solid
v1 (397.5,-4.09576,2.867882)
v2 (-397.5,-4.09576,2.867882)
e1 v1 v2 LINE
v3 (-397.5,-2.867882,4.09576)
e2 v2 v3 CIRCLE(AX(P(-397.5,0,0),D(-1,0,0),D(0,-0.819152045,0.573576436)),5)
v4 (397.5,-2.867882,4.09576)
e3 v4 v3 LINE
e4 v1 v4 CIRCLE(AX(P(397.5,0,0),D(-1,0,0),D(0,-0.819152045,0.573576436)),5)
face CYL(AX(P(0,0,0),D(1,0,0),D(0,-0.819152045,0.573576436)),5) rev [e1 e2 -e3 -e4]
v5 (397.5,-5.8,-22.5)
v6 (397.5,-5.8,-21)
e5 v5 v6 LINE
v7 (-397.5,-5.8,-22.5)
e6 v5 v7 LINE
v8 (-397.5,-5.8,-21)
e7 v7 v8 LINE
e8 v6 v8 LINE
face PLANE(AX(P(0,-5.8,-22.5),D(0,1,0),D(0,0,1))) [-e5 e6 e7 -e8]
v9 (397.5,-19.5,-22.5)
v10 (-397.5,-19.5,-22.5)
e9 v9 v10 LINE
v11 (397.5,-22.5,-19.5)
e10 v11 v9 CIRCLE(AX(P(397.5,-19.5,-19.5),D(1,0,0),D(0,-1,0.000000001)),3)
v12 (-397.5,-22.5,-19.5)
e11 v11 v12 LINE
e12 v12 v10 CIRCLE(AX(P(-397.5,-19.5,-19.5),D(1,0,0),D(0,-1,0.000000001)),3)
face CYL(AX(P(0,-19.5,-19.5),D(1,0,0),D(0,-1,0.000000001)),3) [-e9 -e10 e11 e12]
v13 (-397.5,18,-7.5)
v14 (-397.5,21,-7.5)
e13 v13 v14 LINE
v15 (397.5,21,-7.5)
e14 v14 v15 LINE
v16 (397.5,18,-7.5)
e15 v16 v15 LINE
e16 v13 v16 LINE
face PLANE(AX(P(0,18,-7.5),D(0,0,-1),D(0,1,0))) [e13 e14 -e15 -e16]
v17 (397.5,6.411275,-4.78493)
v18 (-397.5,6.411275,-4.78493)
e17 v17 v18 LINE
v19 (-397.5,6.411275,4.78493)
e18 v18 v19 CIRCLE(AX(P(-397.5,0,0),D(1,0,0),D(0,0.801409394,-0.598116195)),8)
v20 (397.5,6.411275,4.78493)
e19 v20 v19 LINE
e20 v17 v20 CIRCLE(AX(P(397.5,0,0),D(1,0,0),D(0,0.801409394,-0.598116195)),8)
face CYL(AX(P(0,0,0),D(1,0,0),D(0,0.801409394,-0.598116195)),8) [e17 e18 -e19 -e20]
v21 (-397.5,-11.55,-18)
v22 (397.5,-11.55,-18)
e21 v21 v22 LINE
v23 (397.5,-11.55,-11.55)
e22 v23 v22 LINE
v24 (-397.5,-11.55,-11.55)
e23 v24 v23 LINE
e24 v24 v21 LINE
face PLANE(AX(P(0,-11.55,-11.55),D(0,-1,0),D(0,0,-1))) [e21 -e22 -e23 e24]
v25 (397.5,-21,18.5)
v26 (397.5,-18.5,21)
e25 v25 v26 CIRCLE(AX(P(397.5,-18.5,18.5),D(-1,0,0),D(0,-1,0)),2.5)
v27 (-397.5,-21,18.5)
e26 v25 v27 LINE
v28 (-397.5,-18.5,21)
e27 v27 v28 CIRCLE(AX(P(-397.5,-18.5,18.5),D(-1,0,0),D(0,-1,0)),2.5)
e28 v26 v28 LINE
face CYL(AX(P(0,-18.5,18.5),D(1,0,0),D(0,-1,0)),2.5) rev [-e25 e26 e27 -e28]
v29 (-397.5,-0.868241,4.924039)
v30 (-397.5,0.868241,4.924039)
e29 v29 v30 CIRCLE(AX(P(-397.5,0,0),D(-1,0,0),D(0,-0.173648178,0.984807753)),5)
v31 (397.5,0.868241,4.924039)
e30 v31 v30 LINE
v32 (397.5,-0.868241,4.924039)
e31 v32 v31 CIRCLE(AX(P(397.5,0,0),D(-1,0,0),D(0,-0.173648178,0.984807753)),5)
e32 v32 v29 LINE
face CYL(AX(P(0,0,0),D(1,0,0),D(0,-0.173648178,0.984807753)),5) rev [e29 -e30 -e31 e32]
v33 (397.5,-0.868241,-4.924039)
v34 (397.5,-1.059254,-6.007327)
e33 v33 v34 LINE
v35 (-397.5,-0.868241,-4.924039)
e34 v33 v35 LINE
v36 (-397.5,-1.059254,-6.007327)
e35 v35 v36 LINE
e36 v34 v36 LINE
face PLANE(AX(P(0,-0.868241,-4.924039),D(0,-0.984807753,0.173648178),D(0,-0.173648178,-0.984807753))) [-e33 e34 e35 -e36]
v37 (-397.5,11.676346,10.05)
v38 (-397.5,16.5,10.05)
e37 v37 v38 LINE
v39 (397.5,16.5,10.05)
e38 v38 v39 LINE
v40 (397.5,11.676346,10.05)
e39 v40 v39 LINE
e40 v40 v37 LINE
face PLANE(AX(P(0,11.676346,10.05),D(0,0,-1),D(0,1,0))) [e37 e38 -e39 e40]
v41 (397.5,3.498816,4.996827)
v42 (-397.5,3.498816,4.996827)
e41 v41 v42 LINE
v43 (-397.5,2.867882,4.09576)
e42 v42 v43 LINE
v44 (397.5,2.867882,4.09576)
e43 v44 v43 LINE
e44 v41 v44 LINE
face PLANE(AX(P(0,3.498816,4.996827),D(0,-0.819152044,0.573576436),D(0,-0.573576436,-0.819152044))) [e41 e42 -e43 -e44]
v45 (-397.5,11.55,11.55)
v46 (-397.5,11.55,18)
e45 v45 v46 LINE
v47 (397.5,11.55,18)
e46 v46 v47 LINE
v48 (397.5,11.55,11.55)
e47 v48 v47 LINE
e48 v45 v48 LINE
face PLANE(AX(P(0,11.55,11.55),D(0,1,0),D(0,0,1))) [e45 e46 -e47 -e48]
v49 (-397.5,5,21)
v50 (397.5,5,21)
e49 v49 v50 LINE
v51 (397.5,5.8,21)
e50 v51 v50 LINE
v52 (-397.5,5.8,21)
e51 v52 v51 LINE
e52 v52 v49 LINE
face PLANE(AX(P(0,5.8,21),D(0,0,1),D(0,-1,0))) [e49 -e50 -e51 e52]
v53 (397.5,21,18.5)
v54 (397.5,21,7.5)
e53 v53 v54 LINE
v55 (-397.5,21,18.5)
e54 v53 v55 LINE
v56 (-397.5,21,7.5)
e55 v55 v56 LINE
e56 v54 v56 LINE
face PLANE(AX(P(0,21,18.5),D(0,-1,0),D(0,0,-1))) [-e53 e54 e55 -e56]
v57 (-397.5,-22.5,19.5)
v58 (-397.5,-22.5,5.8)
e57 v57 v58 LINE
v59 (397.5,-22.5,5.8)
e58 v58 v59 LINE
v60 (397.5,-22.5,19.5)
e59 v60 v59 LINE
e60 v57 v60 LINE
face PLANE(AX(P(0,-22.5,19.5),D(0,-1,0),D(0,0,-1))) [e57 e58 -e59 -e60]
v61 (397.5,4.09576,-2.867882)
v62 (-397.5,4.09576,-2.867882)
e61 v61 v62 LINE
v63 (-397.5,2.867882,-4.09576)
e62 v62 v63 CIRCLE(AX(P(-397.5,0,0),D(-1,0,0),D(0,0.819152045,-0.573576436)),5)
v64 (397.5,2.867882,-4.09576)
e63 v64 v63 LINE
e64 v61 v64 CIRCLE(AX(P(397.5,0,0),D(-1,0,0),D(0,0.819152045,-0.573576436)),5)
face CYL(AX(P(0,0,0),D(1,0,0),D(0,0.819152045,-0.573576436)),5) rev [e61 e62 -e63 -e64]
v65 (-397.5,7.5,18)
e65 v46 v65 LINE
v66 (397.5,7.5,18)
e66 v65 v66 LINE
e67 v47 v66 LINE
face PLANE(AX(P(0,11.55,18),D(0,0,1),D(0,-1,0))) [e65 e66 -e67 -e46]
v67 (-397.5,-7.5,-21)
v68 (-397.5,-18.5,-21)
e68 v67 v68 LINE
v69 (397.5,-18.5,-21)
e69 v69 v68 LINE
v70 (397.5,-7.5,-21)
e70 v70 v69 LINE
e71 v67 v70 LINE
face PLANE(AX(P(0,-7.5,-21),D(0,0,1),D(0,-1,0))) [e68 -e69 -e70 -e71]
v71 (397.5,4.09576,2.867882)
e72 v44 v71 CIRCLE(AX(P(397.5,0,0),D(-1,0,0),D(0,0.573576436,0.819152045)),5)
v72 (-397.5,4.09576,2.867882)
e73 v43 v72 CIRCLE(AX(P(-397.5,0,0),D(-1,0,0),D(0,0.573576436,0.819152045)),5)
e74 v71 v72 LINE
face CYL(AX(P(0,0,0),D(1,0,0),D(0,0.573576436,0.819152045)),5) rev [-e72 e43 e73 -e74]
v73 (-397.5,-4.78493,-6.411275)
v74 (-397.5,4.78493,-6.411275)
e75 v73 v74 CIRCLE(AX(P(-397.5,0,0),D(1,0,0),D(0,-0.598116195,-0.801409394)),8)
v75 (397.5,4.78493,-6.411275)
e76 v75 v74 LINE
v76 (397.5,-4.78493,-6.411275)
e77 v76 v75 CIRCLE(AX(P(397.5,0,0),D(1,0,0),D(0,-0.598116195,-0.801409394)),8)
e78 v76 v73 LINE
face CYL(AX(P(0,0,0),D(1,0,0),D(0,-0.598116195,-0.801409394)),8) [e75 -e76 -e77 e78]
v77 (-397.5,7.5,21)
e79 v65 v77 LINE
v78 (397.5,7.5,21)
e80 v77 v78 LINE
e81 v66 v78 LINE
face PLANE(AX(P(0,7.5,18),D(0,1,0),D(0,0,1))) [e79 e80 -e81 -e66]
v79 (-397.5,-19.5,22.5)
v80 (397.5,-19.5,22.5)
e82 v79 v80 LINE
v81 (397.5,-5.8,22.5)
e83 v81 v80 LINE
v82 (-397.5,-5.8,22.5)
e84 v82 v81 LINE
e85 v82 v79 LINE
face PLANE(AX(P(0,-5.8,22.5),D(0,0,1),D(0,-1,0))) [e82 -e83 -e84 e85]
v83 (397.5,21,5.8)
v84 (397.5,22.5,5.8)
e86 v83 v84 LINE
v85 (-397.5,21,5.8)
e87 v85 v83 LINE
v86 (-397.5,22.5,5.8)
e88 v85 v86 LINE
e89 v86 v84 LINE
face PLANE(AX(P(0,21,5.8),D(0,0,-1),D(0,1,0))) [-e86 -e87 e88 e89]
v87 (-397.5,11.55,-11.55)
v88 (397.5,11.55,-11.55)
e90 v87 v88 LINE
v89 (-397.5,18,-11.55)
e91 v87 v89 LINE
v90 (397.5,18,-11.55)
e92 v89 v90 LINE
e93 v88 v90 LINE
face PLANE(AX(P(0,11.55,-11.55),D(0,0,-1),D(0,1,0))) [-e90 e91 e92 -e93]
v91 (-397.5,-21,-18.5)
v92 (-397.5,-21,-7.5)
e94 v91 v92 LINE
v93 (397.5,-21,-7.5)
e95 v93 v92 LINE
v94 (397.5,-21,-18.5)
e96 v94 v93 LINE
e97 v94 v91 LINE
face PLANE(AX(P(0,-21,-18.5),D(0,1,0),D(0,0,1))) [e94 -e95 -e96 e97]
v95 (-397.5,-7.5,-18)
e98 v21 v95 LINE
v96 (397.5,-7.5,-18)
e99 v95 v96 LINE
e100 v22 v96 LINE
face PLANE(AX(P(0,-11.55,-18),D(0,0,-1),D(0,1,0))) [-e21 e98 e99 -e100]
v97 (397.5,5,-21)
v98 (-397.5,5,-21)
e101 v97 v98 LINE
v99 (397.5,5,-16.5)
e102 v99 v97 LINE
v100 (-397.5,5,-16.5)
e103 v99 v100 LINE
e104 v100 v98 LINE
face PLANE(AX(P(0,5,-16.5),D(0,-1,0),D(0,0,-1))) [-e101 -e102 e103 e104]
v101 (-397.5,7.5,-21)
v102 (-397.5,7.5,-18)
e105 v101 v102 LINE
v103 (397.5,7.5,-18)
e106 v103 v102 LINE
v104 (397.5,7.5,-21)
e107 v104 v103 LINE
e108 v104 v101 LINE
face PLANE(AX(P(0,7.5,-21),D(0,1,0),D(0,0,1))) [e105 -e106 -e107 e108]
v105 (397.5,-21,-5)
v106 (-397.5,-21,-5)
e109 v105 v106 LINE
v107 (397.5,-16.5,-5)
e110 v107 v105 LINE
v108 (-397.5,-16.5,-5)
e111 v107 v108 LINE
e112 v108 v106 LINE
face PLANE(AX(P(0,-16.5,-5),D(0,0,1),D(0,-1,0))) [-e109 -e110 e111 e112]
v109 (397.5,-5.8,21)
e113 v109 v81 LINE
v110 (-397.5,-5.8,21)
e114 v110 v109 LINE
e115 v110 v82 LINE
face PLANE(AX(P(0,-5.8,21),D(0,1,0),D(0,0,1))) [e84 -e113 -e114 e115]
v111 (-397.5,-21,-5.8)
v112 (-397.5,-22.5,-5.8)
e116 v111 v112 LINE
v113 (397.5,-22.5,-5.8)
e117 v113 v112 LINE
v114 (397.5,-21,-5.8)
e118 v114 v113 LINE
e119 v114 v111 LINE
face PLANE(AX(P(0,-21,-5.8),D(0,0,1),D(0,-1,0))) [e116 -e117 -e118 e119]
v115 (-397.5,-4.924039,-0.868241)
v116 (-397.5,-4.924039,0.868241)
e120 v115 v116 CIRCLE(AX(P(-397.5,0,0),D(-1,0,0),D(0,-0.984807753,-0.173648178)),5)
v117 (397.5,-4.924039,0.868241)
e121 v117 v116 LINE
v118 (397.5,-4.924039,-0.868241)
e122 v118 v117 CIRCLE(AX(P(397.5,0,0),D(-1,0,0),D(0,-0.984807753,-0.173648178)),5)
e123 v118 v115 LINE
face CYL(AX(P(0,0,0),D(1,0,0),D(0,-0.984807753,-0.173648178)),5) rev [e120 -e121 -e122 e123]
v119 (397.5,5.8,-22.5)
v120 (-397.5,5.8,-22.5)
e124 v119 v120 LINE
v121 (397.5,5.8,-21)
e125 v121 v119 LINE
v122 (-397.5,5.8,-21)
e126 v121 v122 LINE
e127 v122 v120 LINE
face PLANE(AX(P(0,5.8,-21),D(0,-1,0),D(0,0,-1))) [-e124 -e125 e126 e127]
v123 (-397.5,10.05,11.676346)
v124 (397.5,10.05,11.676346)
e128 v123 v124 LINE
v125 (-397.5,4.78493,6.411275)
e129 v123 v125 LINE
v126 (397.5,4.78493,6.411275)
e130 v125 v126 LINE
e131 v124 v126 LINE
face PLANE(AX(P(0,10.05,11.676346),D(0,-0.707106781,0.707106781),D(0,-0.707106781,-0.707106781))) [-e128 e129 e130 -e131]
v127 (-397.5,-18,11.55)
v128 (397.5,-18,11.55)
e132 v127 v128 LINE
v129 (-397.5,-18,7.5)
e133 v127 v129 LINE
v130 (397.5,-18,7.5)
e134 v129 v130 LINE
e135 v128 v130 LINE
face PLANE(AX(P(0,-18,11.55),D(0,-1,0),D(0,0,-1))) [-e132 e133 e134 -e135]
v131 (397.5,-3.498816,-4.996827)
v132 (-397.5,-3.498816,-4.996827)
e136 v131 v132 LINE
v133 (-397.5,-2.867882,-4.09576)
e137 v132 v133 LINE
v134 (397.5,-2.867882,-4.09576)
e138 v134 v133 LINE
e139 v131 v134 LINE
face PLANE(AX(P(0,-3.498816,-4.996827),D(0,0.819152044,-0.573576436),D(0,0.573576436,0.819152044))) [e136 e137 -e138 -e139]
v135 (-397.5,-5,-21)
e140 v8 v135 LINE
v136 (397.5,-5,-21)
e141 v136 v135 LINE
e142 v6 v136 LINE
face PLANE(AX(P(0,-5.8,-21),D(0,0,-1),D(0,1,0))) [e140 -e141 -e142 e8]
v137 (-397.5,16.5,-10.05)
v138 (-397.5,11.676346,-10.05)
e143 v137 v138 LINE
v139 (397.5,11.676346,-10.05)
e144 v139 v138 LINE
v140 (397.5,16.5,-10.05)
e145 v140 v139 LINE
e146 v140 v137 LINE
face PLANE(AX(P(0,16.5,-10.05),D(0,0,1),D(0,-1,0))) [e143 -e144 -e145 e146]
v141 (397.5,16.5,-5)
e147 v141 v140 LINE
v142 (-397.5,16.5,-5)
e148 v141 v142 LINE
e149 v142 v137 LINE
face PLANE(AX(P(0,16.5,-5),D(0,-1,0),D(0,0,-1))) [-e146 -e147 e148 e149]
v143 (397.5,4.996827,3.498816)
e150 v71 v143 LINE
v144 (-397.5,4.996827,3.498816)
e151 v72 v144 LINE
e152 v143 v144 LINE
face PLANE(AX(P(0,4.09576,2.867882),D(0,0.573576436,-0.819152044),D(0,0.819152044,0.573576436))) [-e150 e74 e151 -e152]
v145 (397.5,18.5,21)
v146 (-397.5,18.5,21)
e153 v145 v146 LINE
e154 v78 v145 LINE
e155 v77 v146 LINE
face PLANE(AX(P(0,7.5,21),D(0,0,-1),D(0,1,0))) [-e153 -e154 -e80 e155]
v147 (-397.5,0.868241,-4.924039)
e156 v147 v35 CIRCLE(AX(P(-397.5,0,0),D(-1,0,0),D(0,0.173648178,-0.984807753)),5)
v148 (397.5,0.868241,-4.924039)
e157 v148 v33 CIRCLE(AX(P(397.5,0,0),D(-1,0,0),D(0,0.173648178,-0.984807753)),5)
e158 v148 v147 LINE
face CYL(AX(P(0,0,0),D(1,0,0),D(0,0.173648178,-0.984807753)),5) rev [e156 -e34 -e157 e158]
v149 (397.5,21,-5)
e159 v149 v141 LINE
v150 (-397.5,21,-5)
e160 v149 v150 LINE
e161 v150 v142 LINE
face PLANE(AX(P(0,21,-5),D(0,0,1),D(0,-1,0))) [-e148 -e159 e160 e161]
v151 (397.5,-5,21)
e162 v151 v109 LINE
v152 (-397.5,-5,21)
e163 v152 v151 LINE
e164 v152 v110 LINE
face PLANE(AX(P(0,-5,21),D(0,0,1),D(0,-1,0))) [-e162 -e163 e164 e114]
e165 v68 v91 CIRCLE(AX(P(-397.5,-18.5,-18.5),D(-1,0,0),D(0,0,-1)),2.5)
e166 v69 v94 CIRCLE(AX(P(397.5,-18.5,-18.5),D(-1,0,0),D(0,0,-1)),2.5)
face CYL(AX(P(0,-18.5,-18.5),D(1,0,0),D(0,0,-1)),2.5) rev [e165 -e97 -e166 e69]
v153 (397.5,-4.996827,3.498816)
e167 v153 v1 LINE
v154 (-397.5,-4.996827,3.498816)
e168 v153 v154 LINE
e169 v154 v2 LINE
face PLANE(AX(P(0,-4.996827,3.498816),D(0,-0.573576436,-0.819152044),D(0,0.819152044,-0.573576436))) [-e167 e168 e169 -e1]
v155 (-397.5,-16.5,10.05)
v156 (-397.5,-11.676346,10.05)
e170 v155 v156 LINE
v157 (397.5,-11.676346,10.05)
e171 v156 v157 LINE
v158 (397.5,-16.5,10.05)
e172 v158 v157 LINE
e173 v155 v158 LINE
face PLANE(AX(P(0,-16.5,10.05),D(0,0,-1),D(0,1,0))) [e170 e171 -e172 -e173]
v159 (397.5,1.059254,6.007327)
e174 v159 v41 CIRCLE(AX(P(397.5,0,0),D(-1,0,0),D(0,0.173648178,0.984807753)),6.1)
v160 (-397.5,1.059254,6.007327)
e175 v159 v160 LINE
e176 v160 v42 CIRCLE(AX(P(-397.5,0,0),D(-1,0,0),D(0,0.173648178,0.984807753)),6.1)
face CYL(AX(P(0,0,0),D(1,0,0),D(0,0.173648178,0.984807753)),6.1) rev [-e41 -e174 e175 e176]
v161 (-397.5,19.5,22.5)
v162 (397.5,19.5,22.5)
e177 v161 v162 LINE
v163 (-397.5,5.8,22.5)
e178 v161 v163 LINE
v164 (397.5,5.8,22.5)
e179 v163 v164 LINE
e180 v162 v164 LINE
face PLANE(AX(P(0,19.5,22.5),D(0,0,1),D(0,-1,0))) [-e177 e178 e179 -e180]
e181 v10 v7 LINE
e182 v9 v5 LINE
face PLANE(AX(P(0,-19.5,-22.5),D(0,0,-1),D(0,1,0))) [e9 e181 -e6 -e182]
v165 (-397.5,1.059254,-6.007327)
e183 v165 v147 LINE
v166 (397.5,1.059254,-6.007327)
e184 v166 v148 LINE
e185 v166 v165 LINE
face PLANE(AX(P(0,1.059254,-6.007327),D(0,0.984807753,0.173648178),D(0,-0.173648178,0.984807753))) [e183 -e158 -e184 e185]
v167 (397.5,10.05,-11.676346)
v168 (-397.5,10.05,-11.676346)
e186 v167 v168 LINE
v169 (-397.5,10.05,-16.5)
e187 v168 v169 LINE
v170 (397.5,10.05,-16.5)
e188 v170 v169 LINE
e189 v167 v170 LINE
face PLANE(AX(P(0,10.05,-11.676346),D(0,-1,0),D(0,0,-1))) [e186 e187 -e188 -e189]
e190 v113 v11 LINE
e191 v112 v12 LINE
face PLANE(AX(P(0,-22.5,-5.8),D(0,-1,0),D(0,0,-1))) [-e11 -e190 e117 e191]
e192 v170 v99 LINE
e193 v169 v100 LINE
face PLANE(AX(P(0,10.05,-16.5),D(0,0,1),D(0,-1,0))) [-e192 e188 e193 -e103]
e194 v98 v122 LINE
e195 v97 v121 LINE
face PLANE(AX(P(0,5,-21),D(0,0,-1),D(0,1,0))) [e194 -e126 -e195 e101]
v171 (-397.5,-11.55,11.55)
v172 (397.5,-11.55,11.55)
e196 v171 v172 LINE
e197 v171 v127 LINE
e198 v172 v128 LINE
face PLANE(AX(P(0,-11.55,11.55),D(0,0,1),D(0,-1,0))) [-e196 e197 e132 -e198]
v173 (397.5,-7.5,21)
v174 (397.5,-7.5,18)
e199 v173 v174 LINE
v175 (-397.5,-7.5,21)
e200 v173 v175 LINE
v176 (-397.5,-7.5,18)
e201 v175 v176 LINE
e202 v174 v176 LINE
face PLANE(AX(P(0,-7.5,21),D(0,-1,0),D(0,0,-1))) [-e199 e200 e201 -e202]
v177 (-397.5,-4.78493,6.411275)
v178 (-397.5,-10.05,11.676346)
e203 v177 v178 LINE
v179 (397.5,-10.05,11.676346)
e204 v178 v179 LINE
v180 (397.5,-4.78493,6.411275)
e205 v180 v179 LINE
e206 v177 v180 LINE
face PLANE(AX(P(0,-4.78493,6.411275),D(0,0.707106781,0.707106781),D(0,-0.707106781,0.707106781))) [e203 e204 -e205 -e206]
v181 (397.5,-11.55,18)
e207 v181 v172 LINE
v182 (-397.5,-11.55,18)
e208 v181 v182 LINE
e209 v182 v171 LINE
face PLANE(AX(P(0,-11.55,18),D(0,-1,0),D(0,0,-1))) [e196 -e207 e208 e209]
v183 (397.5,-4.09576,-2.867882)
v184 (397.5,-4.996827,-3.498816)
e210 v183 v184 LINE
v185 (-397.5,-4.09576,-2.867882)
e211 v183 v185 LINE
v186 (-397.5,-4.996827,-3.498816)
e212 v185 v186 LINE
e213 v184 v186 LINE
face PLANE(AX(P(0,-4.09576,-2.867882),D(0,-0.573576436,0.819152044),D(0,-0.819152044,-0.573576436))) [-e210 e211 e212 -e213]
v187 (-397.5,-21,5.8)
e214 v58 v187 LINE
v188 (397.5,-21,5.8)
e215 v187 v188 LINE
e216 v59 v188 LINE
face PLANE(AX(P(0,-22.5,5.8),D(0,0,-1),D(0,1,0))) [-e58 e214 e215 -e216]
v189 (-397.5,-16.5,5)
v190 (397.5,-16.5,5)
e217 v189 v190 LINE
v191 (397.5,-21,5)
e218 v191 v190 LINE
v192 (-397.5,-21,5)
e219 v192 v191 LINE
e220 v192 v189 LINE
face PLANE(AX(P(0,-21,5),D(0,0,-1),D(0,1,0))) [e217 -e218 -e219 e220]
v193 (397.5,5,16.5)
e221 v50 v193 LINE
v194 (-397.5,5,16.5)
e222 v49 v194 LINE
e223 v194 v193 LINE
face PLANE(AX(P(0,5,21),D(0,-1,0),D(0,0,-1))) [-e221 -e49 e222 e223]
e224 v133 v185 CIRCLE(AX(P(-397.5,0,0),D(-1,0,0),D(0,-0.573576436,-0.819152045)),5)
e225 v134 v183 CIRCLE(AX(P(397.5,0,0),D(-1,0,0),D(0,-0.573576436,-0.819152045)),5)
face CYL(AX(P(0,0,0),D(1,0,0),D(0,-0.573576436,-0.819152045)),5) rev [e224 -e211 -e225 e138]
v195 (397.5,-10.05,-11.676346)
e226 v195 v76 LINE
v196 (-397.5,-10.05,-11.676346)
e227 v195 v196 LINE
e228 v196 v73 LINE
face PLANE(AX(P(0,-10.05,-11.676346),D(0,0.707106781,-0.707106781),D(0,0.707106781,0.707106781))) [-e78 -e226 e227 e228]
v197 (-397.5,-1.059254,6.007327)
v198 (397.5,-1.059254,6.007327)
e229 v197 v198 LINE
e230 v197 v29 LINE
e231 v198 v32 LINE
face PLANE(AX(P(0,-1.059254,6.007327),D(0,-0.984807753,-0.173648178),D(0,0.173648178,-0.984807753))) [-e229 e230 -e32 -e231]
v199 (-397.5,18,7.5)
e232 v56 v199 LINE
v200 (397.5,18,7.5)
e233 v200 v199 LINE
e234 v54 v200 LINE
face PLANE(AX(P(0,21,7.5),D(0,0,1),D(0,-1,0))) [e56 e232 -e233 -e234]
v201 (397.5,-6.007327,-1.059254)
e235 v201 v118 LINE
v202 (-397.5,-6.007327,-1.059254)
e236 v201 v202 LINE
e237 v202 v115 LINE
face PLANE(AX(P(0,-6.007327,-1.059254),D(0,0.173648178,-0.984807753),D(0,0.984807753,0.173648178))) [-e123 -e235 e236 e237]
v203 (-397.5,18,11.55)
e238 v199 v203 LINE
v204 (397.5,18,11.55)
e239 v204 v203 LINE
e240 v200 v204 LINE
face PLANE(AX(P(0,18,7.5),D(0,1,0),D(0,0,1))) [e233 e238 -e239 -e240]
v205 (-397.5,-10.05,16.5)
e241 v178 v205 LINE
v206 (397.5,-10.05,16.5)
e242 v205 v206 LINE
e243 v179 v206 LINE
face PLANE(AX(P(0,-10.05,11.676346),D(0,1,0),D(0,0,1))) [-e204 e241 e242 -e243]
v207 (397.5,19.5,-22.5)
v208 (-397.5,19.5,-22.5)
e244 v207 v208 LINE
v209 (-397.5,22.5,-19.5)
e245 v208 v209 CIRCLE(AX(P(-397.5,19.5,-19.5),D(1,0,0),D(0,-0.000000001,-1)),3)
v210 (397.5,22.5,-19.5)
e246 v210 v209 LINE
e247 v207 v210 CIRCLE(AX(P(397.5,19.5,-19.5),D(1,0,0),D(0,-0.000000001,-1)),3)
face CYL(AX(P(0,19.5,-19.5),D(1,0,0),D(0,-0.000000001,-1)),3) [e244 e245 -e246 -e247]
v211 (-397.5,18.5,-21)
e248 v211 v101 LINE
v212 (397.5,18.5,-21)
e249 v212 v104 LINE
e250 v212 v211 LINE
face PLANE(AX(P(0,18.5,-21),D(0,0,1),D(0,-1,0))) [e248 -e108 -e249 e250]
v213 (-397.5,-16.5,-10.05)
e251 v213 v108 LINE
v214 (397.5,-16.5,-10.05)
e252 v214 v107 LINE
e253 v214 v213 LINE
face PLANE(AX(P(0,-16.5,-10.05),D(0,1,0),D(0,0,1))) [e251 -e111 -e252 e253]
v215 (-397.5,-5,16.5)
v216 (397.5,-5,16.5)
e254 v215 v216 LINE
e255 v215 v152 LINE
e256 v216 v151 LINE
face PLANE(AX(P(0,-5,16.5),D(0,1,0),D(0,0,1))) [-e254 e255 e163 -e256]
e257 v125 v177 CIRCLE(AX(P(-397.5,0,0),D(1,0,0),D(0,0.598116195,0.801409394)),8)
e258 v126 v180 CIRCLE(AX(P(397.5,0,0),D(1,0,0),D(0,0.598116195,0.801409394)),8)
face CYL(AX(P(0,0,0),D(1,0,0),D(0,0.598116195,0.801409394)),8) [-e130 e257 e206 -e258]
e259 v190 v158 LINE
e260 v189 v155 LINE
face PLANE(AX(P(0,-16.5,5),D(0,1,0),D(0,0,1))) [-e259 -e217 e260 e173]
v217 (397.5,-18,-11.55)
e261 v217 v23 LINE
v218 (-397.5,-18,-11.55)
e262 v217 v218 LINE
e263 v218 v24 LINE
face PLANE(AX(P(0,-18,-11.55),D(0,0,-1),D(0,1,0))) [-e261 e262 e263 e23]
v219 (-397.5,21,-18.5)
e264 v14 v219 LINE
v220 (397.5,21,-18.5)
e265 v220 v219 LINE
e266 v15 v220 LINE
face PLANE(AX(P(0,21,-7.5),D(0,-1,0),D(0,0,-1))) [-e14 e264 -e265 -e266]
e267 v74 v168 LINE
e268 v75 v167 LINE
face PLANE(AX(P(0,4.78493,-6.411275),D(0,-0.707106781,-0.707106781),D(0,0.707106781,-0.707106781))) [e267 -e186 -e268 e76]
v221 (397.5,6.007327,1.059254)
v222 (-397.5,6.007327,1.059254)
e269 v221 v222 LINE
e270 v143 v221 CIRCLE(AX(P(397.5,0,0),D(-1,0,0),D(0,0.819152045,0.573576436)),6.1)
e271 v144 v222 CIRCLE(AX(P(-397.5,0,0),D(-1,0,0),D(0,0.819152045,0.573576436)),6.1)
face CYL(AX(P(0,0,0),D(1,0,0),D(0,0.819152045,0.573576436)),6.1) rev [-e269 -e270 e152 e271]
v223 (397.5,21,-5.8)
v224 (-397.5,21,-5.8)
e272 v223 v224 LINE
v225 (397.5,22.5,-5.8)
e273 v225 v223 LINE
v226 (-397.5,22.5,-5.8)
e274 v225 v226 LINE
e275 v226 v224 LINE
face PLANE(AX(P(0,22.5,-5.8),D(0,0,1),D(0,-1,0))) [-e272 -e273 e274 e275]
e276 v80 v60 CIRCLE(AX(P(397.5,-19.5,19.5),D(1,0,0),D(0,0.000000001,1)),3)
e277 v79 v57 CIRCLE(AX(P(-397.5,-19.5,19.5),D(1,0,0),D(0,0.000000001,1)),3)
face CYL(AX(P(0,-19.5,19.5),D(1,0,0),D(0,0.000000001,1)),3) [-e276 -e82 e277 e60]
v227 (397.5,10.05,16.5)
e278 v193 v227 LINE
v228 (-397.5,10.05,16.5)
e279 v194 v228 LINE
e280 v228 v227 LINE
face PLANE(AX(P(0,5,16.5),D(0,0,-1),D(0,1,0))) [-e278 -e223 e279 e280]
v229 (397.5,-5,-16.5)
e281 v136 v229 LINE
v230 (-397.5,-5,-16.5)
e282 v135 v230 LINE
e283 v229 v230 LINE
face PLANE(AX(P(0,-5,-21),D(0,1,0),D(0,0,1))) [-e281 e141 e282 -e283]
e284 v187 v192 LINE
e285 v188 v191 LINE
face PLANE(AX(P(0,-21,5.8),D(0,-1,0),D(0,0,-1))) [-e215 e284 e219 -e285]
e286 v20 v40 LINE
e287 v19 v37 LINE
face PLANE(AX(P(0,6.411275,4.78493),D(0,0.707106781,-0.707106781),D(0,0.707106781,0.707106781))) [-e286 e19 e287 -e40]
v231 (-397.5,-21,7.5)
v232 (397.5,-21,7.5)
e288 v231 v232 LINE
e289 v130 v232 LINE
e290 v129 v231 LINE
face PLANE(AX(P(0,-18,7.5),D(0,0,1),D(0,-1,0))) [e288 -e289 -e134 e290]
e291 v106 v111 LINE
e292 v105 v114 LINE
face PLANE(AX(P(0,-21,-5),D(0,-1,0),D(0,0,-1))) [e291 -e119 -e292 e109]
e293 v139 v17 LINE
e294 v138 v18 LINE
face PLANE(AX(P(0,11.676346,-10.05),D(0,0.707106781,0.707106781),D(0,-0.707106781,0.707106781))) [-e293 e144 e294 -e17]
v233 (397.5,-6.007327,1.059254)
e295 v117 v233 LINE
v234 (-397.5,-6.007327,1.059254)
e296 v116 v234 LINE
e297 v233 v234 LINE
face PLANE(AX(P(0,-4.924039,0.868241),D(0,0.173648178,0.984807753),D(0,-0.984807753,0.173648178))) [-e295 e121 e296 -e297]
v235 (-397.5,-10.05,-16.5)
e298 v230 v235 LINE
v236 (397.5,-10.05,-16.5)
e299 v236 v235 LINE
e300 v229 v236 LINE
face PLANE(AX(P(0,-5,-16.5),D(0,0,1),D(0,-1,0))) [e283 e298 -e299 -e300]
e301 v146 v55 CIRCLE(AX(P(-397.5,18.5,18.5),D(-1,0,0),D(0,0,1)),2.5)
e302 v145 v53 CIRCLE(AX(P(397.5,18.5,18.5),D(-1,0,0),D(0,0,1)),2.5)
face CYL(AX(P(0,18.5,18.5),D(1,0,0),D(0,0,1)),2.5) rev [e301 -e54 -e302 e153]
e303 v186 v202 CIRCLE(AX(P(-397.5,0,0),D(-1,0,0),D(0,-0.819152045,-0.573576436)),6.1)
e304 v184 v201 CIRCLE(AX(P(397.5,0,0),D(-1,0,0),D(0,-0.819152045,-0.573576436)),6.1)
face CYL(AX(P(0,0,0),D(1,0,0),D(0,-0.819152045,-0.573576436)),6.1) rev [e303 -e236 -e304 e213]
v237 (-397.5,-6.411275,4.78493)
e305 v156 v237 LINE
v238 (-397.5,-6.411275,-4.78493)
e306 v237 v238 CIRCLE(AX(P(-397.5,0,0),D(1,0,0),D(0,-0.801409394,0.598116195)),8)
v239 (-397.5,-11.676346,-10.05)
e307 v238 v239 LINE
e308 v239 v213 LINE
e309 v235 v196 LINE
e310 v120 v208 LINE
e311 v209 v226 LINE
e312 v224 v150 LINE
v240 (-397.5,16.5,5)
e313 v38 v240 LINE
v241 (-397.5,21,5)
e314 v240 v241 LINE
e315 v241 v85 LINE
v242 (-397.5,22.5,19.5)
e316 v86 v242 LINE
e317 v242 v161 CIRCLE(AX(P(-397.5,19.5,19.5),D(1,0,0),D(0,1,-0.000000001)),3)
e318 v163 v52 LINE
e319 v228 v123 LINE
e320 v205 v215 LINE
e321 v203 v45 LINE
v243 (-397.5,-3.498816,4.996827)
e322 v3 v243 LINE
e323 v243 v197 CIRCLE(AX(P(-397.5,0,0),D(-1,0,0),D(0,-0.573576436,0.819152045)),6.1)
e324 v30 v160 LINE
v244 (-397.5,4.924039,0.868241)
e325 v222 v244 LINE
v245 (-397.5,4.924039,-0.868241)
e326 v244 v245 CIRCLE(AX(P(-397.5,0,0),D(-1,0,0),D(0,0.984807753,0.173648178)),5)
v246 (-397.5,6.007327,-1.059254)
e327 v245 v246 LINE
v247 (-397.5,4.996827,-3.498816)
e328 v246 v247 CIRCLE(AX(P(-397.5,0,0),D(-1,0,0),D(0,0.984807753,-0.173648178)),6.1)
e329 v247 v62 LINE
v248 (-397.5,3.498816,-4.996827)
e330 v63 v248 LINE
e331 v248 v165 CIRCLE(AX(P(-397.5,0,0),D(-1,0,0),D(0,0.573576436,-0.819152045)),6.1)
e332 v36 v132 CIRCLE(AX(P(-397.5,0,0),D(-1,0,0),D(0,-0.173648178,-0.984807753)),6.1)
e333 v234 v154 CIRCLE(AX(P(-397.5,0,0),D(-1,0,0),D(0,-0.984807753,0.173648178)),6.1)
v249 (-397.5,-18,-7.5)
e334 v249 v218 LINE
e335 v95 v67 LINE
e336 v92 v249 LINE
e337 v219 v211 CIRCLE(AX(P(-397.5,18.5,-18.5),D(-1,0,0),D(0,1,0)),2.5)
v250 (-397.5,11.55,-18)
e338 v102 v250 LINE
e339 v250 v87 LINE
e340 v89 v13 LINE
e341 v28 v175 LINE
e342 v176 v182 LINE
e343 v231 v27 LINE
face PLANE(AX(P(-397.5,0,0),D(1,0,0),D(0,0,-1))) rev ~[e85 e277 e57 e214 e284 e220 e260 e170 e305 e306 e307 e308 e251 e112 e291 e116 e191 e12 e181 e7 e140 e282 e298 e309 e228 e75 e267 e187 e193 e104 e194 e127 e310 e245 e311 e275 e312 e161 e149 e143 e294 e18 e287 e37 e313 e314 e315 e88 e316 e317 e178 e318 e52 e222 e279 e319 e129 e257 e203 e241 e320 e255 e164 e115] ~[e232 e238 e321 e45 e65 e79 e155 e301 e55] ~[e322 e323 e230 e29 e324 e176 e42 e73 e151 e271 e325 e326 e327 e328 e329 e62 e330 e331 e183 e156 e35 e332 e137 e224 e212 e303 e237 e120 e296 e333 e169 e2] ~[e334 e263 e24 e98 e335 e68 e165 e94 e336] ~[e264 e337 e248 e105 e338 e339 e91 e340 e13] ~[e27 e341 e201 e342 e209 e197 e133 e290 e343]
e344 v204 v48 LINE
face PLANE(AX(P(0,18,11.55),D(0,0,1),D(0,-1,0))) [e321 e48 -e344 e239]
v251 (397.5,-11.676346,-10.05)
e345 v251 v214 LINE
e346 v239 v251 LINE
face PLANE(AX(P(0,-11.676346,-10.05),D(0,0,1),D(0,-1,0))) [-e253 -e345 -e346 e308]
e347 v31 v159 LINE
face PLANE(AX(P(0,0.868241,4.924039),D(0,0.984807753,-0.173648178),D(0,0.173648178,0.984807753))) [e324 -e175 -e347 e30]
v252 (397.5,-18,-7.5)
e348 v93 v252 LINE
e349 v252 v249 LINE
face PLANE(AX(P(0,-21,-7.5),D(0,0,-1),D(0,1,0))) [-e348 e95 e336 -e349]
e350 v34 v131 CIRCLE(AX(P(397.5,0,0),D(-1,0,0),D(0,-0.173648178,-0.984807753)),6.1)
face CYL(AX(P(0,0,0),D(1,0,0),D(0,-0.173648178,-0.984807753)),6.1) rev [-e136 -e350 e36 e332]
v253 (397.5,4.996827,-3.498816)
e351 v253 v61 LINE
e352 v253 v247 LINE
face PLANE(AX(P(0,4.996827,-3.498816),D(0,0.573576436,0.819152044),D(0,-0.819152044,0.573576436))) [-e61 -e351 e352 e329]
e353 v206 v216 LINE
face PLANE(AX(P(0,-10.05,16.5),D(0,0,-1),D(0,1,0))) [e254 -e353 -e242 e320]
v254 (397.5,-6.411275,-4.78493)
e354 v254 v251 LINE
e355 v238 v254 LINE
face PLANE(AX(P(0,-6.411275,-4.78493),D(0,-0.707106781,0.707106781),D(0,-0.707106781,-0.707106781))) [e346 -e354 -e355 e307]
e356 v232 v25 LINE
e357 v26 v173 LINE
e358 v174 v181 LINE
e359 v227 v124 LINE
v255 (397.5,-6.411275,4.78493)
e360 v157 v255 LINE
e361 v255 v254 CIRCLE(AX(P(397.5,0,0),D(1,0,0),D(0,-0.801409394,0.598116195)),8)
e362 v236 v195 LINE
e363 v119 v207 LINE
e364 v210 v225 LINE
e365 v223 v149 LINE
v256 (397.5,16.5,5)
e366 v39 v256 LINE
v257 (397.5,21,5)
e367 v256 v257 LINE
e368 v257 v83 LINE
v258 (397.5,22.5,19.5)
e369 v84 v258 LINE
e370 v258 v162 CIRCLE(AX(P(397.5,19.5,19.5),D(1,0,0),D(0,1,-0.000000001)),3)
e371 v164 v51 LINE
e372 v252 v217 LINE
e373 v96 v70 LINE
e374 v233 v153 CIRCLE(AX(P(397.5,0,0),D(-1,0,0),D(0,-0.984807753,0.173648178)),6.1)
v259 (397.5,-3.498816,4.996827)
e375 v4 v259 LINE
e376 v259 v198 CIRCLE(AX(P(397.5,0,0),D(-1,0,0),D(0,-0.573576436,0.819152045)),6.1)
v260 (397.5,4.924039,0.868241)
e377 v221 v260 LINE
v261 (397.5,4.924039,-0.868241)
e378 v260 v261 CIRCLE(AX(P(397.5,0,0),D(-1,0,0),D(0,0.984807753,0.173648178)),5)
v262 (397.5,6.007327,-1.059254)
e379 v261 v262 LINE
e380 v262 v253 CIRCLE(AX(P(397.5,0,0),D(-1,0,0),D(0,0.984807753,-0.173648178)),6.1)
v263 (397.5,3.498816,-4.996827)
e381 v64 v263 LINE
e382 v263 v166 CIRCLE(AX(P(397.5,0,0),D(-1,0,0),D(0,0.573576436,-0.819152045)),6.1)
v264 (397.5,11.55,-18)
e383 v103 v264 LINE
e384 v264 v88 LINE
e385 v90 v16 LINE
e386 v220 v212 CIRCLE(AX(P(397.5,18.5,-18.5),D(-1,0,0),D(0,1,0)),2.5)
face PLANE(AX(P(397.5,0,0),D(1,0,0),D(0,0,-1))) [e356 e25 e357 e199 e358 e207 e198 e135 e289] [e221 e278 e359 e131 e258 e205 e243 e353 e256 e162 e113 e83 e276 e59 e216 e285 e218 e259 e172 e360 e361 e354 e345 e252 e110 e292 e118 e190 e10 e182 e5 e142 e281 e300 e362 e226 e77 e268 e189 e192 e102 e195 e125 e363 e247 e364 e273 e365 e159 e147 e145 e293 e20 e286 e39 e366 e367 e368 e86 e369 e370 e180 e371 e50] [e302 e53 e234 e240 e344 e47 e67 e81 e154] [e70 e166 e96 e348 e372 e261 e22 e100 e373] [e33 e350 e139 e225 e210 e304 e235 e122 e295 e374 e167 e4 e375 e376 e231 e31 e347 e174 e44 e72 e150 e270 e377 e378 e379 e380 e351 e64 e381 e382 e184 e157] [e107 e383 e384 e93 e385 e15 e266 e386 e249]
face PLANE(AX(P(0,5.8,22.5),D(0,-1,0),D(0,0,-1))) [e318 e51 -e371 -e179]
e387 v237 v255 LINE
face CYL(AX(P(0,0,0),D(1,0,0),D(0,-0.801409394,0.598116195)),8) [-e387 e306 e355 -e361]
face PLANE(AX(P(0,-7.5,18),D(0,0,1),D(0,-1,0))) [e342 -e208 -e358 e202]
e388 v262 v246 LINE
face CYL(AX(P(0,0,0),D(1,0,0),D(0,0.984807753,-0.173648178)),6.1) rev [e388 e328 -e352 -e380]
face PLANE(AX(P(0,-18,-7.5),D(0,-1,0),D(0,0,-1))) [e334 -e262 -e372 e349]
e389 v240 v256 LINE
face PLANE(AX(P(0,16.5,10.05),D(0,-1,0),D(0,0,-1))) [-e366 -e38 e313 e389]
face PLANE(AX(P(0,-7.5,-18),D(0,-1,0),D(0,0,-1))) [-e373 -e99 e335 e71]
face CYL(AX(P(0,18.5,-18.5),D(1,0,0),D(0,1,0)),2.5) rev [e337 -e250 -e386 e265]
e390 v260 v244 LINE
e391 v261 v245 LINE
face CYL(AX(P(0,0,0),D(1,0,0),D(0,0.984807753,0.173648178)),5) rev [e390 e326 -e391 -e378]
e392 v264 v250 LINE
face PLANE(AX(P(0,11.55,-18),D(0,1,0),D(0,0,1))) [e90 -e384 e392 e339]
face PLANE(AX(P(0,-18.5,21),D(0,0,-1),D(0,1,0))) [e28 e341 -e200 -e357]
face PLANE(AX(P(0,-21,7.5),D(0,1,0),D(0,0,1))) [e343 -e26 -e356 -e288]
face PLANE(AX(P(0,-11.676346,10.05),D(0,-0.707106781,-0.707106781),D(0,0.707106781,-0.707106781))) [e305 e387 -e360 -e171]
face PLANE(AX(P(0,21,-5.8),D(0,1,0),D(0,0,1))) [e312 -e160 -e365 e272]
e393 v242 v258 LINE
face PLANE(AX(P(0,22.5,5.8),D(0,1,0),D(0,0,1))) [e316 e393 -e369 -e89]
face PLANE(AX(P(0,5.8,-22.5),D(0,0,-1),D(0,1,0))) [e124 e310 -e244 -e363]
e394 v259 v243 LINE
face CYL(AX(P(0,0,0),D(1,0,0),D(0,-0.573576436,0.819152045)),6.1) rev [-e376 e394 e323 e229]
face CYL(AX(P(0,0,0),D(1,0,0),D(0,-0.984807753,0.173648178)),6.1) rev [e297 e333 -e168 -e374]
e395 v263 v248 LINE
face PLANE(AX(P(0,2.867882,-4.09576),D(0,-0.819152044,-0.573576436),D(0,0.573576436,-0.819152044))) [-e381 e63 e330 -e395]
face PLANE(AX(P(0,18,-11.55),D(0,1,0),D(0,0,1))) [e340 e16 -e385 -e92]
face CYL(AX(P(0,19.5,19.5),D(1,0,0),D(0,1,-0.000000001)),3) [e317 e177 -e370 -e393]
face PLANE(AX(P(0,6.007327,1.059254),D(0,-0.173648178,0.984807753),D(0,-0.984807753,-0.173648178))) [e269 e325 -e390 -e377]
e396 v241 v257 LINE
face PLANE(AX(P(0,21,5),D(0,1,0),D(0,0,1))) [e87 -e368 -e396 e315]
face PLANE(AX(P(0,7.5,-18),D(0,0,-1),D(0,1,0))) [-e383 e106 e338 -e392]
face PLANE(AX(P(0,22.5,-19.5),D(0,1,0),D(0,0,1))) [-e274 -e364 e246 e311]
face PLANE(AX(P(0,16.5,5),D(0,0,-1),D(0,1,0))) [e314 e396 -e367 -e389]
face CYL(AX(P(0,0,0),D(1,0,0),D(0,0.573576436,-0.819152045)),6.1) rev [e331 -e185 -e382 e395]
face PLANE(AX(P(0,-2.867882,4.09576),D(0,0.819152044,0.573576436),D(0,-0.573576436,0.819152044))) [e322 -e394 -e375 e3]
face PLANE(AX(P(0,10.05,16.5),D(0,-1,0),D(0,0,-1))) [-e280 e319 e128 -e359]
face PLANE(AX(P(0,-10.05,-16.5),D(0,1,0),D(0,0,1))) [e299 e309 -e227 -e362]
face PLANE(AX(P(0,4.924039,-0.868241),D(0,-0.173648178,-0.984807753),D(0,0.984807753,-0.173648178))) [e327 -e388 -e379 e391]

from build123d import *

# Parameters (mm, degrees)
BR_EXTRUDE_DEPTH      = 397.5
BR_EXTRUDE_DEPTH_BACK = 397.5


with BuildPart() as part:
    # Sketch2 → BR_Extrude (new body, two sides)
    with BuildSketch(Plane(origin=(0, 0, 0), x_dir=(0, 0, -1), z_dir=(1, 0, 0))) as br_extrude_sk:
        with BuildLine():
            Line((-10.05, 11.676345597), (-10.05, 16.5))
            Line((-10.05, 16.5), (-5, 16.5))
            Line((-5, 16.5), (-5, 21))
            Line((-5, 21), (-5.8, 21))
            Line((-5.8, 21), (-5.8, 22.5))
            Line((-5.8, 22.5), (-19.5, 22.5))
            ThreePointArc((-19.5, 22.5), (-21.621320344, 21.621320344), (-22.5, 19.5))
            Line((-22.5, 19.5), (-22.5, 5.8))
            Line((-22.5, 5.8), (-21, 5.8))
            Line((-21, 5.8), (-21, 5))
            Line((-21, 5), (-16.5, 5))
            Line((-16.5, 5), (-16.5, 10.05))
            Line((-16.5, 10.05), (-11.676345597, 10.05))
            Line((-11.676345597, 10.05), (-6.411275155, 4.784929559))
            ThreePointArc((-6.411275155, 4.784929559), (-8, 0), (-6.411275155, -4.784929559))
            Line((-6.411275155, -4.784929559), (-11.676345597, -10.05))
            Line((-11.676345597, -10.05), (-16.5, -10.05))
            Line((-16.5, -10.05), (-16.5, -5))
            Line((-16.5, -5), (-21, -5))
            Line((-21, -5), (-21, -5.8))
            Line((-21, -5.8), (-22.5, -5.8))
            Line((-22.5, -5.8), (-22.5, -19.5))
            ThreePointArc((-22.5, -19.5), (-21.621320344, -21.621320344), (-19.5, -22.5))
            Line((-19.5, -22.5), (-5.8, -22.5))
            Line((-5.8, -22.5), (-5.8, -21))
            Line((-5.8, -21), (-5, -21))
            Line((-5, -21), (-5, -16.5))
            Line((-5, -16.5), (-10.05, -16.5))
            Line((-10.05, -16.5), (-10.05, -11.676345597))
            Line((-10.05, -11.676345597), (-4.784929559, -6.411275155))
            ThreePointArc((-4.784929559, -6.411275155), (0, -8), (4.784929559, -6.411275155))
            Line((4.784929559, -6.411275155), (10.05, -11.676345597))
            Line((10.05, -11.676345597), (10.05, -16.5))
            Line((10.05, -16.5), (5, -16.5))
            Line((5, -16.5), (5, -21))
            Line((5, -21), (5.8, -21))
            Line((5.8, -21), (5.8, -22.5))
            Line((5.8, -22.5), (19.5, -22.5))
            ThreePointArc((19.5, -22.5), (21.621320344, -21.621320344), (22.5, -19.5))
            Line((22.5, -19.5), (22.5, -5.8))
            Line((22.5, -5.8), (21, -5.8))
            Line((21, -5.8), (21, -5))
            Line((21, -5), (16.5, -5))
            Line((16.5, -5), (16.5, -10.05))
            Line((16.5, -10.05), (11.676345597, -10.05))
            Line((11.676345597, -10.05), (6.411275155, -4.784929559))
            ThreePointArc((6.411275155, -4.784929559), (8, 0), (6.411275155, 4.784929559))
            Line((6.411275155, 4.784929559), (11.676345597, 10.05))
            Line((11.676345597, 10.05), (16.5, 10.05))
            Line((16.5, 10.05), (16.5, 5))
            Line((16.5, 5), (21, 5))
            Line((21, 5), (21, 5.8))
            Line((21, 5.8), (22.5, 5.8))
            Line((22.5, 5.8), (22.5, 19.5))
            ThreePointArc((22.5, 19.5), (21.621320344, 21.621320344), (19.5, 22.5))
            Line((19.5, 22.5), (5.8, 22.5))
            Line((5.8, 22.5), (5.8, 21))
            Line((5.8, 21), (5, 21))
            Line((5, 21), (5, 16.5))
            Line((5, 16.5), (10.05, 16.5))
            Line((10.05, 16.5), (10.05, 11.676345597))
            Line((10.05, 11.676345597), (4.784929559, 6.411275155))
            ThreePointArc((4.784929559, 6.411275155), (0, 8), (-4.784929559, 6.411275155))
            Line((-4.784929559, 6.411275155), (-10.05, 11.676345597))
        make_face()
        with BuildLine():
            Line((11.55, 11.55), (11.55, 18))
            Line((11.55, 18), (7.5, 18))
            Line((7.5, 18), (7.5, 21))
            Line((7.5, 21), (18.5, 21))
            ThreePointArc((18.5, 21), (20.267766953, 20.267766953), (21, 18.5))
            Line((21, 18.5), (21, 7.5))
            Line((21, 7.5), (18, 7.5))
            Line((18, 7.5), (18, 11.55))
            Line((18, 11.55), (11.55, 11.55))
        make_face(mode=Mode.SUBTRACT)
        with BuildLine():
            Line((11.55, -11.55), (18, -11.55))
            Line((18, -11.55), (18, -7.5))
            Line((18, -7.5), (21, -7.5))
            Line((21, -7.5), (21, -18.5))
            ThreePointArc((21, -18.5), (20.267766953, -20.267766953), (18.5, -21))
            Line((18.5, -21), (7.5, -21))
            Line((7.5, -21), (7.5, -18))
            Line((7.5, -18), (11.55, -18))
            Line((11.55, -18), (11.55, -11.55))
        make_face(mode=Mode.SUBTRACT)
        with BuildLine():
            Line((-11.55, 11.55), (-18, 11.55))
            Line((-18, 11.55), (-18, 7.5))
            Line((-18, 7.5), (-21, 7.5))
            Line((-21, 7.5), (-21, 18.5))
            ThreePointArc((-21, 18.5), (-20.267766953, 20.267766953), (-18.5, 21))
            Line((-18.5, 21), (-7.5, 21))
            Line((-7.5, 21), (-7.5, 18))
            Line((-7.5, 18), (-11.55, 18))
            Line((-11.55, 18), (-11.55, 11.55))
        make_face(mode=Mode.SUBTRACT)
        with BuildLine():
            Line((-11.55, -11.55), (-11.55, -18))
            Line((-11.55, -18), (-7.5, -18))
            Line((-7.5, -18), (-7.5, -21))
            Line((-7.5, -21), (-18.5, -21))
            ThreePointArc((-18.5, -21), (-20.267766953, -20.267766953), (-21, -18.5))
            Line((-21, -18.5), (-21, -7.5))
            Line((-21, -7.5), (-18, -7.5))
            Line((-18, -7.5), (-18, -11.55))
            Line((-18, -11.55), (-11.55, -11.55))
        make_face(mode=Mode.SUBTRACT)
        with BuildLine():
            Line((-6.007327293, -1.059253884), (-4.924038765, -0.868240888))
            ThreePointArc((-4.924038765, -0.868240888), (-5, 0), (-4.924038765, 0.868240888))
            Line((-4.924038765, 0.868240888), (-6.007327293, 1.059253884))
            ThreePointArc((-6.007327293, 1.059253884), (-5.635665148, 2.334368937), (-4.99682747, 3.498816262))
            Line((-4.99682747, 3.498816262), (-4.095760221, 2.867882182))
            ThreePointArc((-4.095760221, 2.867882182), (-3.535533906, 3.535533906), (-2.867882182, 4.095760221))
            Line((-2.867882182, 4.095760221), (-3.498816262, 4.99682747))
            ThreePointArc((-3.498816262, 4.99682747), (-2.334368937, 5.635665148), (-1.059253884, 6.007327293))
            Line((-1.059253884, 6.007327293), (-0.868240888, 4.924038765))
            ThreePointArc((-0.868240888, 4.924038765), (0, 5), (0.868240888, 4.924038765))
            Line((0.868240888, 4.924038765), (1.059253884, 6.007327293))
            ThreePointArc((1.059253884, 6.007327293), (2.334368937, 5.635665148), (3.498816262, 4.99682747))
            Line((3.498816262, 4.99682747), (2.867882182, 4.095760221))
            ThreePointArc((2.867882182, 4.095760221), (3.535533906, 3.535533906), (4.095760221, 2.867882182))
            Line((4.095760221, 2.867882182), (4.99682747, 3.498816262))
            ThreePointArc((4.99682747, 3.498816262), (5.635665148, 2.334368937), (6.007327293, 1.059253884))
            Line((6.007327293, 1.059253884), (4.924038765, 0.868240888))
            ThreePointArc((4.924038765, 0.868240888), (5, 0), (4.924038765, -0.868240888))
            Line((4.924038765, -0.868240888), (6.007327293, -1.059253884))
            ThreePointArc((6.007327293, -1.059253884), (5.635665148, -2.334368937), (4.99682747, -3.498816262))
            Line((4.99682747, -3.498816262), (4.095760221, -2.867882182))
            ThreePointArc((4.095760221, -2.867882182), (3.535533906, -3.535533906), (2.867882182, -4.095760221))
            Line((2.867882182, -4.095760221), (3.498816262, -4.99682747))
            ThreePointArc((3.498816262, -4.99682747), (2.334368937, -5.635665148), (1.059253884, -6.007327293))
            Line((1.059253884, -6.007327293), (0.868240888, -4.924038765))
            ThreePointArc((0.868240888, -4.924038765), (0, -5), (-0.868240888, -4.924038765))
            Line((-0.868240888, -4.924038765), (-1.059253884, -6.007327293))
            ThreePointArc((-1.059253884, -6.007327293), (-2.334368937, -5.635665148), (-3.498816262, -4.99682747))
            Line((-3.498816262, -4.99682747), (-2.867882182, -4.095760221))
            ThreePointArc((-2.867882182, -4.095760221), (-3.535533906, -3.535533906), (-4.095760221, -2.867882182))
            Line((-4.095760221, -2.867882182), (-4.99682747, -3.498816262))
            ThreePointArc((-4.99682747, -3.498816262), (-5.635665148, -2.334368937), (-6.007327293, -1.059253884))
        make_face(mode=Mode.SUBTRACT)
    extrude(amount=BR_EXTRUDE_DEPTH)
    extrude(br_extrude_sk.sketch, amount=-BR_EXTRUDE_DEPTH_BACK)


solid = part.part
